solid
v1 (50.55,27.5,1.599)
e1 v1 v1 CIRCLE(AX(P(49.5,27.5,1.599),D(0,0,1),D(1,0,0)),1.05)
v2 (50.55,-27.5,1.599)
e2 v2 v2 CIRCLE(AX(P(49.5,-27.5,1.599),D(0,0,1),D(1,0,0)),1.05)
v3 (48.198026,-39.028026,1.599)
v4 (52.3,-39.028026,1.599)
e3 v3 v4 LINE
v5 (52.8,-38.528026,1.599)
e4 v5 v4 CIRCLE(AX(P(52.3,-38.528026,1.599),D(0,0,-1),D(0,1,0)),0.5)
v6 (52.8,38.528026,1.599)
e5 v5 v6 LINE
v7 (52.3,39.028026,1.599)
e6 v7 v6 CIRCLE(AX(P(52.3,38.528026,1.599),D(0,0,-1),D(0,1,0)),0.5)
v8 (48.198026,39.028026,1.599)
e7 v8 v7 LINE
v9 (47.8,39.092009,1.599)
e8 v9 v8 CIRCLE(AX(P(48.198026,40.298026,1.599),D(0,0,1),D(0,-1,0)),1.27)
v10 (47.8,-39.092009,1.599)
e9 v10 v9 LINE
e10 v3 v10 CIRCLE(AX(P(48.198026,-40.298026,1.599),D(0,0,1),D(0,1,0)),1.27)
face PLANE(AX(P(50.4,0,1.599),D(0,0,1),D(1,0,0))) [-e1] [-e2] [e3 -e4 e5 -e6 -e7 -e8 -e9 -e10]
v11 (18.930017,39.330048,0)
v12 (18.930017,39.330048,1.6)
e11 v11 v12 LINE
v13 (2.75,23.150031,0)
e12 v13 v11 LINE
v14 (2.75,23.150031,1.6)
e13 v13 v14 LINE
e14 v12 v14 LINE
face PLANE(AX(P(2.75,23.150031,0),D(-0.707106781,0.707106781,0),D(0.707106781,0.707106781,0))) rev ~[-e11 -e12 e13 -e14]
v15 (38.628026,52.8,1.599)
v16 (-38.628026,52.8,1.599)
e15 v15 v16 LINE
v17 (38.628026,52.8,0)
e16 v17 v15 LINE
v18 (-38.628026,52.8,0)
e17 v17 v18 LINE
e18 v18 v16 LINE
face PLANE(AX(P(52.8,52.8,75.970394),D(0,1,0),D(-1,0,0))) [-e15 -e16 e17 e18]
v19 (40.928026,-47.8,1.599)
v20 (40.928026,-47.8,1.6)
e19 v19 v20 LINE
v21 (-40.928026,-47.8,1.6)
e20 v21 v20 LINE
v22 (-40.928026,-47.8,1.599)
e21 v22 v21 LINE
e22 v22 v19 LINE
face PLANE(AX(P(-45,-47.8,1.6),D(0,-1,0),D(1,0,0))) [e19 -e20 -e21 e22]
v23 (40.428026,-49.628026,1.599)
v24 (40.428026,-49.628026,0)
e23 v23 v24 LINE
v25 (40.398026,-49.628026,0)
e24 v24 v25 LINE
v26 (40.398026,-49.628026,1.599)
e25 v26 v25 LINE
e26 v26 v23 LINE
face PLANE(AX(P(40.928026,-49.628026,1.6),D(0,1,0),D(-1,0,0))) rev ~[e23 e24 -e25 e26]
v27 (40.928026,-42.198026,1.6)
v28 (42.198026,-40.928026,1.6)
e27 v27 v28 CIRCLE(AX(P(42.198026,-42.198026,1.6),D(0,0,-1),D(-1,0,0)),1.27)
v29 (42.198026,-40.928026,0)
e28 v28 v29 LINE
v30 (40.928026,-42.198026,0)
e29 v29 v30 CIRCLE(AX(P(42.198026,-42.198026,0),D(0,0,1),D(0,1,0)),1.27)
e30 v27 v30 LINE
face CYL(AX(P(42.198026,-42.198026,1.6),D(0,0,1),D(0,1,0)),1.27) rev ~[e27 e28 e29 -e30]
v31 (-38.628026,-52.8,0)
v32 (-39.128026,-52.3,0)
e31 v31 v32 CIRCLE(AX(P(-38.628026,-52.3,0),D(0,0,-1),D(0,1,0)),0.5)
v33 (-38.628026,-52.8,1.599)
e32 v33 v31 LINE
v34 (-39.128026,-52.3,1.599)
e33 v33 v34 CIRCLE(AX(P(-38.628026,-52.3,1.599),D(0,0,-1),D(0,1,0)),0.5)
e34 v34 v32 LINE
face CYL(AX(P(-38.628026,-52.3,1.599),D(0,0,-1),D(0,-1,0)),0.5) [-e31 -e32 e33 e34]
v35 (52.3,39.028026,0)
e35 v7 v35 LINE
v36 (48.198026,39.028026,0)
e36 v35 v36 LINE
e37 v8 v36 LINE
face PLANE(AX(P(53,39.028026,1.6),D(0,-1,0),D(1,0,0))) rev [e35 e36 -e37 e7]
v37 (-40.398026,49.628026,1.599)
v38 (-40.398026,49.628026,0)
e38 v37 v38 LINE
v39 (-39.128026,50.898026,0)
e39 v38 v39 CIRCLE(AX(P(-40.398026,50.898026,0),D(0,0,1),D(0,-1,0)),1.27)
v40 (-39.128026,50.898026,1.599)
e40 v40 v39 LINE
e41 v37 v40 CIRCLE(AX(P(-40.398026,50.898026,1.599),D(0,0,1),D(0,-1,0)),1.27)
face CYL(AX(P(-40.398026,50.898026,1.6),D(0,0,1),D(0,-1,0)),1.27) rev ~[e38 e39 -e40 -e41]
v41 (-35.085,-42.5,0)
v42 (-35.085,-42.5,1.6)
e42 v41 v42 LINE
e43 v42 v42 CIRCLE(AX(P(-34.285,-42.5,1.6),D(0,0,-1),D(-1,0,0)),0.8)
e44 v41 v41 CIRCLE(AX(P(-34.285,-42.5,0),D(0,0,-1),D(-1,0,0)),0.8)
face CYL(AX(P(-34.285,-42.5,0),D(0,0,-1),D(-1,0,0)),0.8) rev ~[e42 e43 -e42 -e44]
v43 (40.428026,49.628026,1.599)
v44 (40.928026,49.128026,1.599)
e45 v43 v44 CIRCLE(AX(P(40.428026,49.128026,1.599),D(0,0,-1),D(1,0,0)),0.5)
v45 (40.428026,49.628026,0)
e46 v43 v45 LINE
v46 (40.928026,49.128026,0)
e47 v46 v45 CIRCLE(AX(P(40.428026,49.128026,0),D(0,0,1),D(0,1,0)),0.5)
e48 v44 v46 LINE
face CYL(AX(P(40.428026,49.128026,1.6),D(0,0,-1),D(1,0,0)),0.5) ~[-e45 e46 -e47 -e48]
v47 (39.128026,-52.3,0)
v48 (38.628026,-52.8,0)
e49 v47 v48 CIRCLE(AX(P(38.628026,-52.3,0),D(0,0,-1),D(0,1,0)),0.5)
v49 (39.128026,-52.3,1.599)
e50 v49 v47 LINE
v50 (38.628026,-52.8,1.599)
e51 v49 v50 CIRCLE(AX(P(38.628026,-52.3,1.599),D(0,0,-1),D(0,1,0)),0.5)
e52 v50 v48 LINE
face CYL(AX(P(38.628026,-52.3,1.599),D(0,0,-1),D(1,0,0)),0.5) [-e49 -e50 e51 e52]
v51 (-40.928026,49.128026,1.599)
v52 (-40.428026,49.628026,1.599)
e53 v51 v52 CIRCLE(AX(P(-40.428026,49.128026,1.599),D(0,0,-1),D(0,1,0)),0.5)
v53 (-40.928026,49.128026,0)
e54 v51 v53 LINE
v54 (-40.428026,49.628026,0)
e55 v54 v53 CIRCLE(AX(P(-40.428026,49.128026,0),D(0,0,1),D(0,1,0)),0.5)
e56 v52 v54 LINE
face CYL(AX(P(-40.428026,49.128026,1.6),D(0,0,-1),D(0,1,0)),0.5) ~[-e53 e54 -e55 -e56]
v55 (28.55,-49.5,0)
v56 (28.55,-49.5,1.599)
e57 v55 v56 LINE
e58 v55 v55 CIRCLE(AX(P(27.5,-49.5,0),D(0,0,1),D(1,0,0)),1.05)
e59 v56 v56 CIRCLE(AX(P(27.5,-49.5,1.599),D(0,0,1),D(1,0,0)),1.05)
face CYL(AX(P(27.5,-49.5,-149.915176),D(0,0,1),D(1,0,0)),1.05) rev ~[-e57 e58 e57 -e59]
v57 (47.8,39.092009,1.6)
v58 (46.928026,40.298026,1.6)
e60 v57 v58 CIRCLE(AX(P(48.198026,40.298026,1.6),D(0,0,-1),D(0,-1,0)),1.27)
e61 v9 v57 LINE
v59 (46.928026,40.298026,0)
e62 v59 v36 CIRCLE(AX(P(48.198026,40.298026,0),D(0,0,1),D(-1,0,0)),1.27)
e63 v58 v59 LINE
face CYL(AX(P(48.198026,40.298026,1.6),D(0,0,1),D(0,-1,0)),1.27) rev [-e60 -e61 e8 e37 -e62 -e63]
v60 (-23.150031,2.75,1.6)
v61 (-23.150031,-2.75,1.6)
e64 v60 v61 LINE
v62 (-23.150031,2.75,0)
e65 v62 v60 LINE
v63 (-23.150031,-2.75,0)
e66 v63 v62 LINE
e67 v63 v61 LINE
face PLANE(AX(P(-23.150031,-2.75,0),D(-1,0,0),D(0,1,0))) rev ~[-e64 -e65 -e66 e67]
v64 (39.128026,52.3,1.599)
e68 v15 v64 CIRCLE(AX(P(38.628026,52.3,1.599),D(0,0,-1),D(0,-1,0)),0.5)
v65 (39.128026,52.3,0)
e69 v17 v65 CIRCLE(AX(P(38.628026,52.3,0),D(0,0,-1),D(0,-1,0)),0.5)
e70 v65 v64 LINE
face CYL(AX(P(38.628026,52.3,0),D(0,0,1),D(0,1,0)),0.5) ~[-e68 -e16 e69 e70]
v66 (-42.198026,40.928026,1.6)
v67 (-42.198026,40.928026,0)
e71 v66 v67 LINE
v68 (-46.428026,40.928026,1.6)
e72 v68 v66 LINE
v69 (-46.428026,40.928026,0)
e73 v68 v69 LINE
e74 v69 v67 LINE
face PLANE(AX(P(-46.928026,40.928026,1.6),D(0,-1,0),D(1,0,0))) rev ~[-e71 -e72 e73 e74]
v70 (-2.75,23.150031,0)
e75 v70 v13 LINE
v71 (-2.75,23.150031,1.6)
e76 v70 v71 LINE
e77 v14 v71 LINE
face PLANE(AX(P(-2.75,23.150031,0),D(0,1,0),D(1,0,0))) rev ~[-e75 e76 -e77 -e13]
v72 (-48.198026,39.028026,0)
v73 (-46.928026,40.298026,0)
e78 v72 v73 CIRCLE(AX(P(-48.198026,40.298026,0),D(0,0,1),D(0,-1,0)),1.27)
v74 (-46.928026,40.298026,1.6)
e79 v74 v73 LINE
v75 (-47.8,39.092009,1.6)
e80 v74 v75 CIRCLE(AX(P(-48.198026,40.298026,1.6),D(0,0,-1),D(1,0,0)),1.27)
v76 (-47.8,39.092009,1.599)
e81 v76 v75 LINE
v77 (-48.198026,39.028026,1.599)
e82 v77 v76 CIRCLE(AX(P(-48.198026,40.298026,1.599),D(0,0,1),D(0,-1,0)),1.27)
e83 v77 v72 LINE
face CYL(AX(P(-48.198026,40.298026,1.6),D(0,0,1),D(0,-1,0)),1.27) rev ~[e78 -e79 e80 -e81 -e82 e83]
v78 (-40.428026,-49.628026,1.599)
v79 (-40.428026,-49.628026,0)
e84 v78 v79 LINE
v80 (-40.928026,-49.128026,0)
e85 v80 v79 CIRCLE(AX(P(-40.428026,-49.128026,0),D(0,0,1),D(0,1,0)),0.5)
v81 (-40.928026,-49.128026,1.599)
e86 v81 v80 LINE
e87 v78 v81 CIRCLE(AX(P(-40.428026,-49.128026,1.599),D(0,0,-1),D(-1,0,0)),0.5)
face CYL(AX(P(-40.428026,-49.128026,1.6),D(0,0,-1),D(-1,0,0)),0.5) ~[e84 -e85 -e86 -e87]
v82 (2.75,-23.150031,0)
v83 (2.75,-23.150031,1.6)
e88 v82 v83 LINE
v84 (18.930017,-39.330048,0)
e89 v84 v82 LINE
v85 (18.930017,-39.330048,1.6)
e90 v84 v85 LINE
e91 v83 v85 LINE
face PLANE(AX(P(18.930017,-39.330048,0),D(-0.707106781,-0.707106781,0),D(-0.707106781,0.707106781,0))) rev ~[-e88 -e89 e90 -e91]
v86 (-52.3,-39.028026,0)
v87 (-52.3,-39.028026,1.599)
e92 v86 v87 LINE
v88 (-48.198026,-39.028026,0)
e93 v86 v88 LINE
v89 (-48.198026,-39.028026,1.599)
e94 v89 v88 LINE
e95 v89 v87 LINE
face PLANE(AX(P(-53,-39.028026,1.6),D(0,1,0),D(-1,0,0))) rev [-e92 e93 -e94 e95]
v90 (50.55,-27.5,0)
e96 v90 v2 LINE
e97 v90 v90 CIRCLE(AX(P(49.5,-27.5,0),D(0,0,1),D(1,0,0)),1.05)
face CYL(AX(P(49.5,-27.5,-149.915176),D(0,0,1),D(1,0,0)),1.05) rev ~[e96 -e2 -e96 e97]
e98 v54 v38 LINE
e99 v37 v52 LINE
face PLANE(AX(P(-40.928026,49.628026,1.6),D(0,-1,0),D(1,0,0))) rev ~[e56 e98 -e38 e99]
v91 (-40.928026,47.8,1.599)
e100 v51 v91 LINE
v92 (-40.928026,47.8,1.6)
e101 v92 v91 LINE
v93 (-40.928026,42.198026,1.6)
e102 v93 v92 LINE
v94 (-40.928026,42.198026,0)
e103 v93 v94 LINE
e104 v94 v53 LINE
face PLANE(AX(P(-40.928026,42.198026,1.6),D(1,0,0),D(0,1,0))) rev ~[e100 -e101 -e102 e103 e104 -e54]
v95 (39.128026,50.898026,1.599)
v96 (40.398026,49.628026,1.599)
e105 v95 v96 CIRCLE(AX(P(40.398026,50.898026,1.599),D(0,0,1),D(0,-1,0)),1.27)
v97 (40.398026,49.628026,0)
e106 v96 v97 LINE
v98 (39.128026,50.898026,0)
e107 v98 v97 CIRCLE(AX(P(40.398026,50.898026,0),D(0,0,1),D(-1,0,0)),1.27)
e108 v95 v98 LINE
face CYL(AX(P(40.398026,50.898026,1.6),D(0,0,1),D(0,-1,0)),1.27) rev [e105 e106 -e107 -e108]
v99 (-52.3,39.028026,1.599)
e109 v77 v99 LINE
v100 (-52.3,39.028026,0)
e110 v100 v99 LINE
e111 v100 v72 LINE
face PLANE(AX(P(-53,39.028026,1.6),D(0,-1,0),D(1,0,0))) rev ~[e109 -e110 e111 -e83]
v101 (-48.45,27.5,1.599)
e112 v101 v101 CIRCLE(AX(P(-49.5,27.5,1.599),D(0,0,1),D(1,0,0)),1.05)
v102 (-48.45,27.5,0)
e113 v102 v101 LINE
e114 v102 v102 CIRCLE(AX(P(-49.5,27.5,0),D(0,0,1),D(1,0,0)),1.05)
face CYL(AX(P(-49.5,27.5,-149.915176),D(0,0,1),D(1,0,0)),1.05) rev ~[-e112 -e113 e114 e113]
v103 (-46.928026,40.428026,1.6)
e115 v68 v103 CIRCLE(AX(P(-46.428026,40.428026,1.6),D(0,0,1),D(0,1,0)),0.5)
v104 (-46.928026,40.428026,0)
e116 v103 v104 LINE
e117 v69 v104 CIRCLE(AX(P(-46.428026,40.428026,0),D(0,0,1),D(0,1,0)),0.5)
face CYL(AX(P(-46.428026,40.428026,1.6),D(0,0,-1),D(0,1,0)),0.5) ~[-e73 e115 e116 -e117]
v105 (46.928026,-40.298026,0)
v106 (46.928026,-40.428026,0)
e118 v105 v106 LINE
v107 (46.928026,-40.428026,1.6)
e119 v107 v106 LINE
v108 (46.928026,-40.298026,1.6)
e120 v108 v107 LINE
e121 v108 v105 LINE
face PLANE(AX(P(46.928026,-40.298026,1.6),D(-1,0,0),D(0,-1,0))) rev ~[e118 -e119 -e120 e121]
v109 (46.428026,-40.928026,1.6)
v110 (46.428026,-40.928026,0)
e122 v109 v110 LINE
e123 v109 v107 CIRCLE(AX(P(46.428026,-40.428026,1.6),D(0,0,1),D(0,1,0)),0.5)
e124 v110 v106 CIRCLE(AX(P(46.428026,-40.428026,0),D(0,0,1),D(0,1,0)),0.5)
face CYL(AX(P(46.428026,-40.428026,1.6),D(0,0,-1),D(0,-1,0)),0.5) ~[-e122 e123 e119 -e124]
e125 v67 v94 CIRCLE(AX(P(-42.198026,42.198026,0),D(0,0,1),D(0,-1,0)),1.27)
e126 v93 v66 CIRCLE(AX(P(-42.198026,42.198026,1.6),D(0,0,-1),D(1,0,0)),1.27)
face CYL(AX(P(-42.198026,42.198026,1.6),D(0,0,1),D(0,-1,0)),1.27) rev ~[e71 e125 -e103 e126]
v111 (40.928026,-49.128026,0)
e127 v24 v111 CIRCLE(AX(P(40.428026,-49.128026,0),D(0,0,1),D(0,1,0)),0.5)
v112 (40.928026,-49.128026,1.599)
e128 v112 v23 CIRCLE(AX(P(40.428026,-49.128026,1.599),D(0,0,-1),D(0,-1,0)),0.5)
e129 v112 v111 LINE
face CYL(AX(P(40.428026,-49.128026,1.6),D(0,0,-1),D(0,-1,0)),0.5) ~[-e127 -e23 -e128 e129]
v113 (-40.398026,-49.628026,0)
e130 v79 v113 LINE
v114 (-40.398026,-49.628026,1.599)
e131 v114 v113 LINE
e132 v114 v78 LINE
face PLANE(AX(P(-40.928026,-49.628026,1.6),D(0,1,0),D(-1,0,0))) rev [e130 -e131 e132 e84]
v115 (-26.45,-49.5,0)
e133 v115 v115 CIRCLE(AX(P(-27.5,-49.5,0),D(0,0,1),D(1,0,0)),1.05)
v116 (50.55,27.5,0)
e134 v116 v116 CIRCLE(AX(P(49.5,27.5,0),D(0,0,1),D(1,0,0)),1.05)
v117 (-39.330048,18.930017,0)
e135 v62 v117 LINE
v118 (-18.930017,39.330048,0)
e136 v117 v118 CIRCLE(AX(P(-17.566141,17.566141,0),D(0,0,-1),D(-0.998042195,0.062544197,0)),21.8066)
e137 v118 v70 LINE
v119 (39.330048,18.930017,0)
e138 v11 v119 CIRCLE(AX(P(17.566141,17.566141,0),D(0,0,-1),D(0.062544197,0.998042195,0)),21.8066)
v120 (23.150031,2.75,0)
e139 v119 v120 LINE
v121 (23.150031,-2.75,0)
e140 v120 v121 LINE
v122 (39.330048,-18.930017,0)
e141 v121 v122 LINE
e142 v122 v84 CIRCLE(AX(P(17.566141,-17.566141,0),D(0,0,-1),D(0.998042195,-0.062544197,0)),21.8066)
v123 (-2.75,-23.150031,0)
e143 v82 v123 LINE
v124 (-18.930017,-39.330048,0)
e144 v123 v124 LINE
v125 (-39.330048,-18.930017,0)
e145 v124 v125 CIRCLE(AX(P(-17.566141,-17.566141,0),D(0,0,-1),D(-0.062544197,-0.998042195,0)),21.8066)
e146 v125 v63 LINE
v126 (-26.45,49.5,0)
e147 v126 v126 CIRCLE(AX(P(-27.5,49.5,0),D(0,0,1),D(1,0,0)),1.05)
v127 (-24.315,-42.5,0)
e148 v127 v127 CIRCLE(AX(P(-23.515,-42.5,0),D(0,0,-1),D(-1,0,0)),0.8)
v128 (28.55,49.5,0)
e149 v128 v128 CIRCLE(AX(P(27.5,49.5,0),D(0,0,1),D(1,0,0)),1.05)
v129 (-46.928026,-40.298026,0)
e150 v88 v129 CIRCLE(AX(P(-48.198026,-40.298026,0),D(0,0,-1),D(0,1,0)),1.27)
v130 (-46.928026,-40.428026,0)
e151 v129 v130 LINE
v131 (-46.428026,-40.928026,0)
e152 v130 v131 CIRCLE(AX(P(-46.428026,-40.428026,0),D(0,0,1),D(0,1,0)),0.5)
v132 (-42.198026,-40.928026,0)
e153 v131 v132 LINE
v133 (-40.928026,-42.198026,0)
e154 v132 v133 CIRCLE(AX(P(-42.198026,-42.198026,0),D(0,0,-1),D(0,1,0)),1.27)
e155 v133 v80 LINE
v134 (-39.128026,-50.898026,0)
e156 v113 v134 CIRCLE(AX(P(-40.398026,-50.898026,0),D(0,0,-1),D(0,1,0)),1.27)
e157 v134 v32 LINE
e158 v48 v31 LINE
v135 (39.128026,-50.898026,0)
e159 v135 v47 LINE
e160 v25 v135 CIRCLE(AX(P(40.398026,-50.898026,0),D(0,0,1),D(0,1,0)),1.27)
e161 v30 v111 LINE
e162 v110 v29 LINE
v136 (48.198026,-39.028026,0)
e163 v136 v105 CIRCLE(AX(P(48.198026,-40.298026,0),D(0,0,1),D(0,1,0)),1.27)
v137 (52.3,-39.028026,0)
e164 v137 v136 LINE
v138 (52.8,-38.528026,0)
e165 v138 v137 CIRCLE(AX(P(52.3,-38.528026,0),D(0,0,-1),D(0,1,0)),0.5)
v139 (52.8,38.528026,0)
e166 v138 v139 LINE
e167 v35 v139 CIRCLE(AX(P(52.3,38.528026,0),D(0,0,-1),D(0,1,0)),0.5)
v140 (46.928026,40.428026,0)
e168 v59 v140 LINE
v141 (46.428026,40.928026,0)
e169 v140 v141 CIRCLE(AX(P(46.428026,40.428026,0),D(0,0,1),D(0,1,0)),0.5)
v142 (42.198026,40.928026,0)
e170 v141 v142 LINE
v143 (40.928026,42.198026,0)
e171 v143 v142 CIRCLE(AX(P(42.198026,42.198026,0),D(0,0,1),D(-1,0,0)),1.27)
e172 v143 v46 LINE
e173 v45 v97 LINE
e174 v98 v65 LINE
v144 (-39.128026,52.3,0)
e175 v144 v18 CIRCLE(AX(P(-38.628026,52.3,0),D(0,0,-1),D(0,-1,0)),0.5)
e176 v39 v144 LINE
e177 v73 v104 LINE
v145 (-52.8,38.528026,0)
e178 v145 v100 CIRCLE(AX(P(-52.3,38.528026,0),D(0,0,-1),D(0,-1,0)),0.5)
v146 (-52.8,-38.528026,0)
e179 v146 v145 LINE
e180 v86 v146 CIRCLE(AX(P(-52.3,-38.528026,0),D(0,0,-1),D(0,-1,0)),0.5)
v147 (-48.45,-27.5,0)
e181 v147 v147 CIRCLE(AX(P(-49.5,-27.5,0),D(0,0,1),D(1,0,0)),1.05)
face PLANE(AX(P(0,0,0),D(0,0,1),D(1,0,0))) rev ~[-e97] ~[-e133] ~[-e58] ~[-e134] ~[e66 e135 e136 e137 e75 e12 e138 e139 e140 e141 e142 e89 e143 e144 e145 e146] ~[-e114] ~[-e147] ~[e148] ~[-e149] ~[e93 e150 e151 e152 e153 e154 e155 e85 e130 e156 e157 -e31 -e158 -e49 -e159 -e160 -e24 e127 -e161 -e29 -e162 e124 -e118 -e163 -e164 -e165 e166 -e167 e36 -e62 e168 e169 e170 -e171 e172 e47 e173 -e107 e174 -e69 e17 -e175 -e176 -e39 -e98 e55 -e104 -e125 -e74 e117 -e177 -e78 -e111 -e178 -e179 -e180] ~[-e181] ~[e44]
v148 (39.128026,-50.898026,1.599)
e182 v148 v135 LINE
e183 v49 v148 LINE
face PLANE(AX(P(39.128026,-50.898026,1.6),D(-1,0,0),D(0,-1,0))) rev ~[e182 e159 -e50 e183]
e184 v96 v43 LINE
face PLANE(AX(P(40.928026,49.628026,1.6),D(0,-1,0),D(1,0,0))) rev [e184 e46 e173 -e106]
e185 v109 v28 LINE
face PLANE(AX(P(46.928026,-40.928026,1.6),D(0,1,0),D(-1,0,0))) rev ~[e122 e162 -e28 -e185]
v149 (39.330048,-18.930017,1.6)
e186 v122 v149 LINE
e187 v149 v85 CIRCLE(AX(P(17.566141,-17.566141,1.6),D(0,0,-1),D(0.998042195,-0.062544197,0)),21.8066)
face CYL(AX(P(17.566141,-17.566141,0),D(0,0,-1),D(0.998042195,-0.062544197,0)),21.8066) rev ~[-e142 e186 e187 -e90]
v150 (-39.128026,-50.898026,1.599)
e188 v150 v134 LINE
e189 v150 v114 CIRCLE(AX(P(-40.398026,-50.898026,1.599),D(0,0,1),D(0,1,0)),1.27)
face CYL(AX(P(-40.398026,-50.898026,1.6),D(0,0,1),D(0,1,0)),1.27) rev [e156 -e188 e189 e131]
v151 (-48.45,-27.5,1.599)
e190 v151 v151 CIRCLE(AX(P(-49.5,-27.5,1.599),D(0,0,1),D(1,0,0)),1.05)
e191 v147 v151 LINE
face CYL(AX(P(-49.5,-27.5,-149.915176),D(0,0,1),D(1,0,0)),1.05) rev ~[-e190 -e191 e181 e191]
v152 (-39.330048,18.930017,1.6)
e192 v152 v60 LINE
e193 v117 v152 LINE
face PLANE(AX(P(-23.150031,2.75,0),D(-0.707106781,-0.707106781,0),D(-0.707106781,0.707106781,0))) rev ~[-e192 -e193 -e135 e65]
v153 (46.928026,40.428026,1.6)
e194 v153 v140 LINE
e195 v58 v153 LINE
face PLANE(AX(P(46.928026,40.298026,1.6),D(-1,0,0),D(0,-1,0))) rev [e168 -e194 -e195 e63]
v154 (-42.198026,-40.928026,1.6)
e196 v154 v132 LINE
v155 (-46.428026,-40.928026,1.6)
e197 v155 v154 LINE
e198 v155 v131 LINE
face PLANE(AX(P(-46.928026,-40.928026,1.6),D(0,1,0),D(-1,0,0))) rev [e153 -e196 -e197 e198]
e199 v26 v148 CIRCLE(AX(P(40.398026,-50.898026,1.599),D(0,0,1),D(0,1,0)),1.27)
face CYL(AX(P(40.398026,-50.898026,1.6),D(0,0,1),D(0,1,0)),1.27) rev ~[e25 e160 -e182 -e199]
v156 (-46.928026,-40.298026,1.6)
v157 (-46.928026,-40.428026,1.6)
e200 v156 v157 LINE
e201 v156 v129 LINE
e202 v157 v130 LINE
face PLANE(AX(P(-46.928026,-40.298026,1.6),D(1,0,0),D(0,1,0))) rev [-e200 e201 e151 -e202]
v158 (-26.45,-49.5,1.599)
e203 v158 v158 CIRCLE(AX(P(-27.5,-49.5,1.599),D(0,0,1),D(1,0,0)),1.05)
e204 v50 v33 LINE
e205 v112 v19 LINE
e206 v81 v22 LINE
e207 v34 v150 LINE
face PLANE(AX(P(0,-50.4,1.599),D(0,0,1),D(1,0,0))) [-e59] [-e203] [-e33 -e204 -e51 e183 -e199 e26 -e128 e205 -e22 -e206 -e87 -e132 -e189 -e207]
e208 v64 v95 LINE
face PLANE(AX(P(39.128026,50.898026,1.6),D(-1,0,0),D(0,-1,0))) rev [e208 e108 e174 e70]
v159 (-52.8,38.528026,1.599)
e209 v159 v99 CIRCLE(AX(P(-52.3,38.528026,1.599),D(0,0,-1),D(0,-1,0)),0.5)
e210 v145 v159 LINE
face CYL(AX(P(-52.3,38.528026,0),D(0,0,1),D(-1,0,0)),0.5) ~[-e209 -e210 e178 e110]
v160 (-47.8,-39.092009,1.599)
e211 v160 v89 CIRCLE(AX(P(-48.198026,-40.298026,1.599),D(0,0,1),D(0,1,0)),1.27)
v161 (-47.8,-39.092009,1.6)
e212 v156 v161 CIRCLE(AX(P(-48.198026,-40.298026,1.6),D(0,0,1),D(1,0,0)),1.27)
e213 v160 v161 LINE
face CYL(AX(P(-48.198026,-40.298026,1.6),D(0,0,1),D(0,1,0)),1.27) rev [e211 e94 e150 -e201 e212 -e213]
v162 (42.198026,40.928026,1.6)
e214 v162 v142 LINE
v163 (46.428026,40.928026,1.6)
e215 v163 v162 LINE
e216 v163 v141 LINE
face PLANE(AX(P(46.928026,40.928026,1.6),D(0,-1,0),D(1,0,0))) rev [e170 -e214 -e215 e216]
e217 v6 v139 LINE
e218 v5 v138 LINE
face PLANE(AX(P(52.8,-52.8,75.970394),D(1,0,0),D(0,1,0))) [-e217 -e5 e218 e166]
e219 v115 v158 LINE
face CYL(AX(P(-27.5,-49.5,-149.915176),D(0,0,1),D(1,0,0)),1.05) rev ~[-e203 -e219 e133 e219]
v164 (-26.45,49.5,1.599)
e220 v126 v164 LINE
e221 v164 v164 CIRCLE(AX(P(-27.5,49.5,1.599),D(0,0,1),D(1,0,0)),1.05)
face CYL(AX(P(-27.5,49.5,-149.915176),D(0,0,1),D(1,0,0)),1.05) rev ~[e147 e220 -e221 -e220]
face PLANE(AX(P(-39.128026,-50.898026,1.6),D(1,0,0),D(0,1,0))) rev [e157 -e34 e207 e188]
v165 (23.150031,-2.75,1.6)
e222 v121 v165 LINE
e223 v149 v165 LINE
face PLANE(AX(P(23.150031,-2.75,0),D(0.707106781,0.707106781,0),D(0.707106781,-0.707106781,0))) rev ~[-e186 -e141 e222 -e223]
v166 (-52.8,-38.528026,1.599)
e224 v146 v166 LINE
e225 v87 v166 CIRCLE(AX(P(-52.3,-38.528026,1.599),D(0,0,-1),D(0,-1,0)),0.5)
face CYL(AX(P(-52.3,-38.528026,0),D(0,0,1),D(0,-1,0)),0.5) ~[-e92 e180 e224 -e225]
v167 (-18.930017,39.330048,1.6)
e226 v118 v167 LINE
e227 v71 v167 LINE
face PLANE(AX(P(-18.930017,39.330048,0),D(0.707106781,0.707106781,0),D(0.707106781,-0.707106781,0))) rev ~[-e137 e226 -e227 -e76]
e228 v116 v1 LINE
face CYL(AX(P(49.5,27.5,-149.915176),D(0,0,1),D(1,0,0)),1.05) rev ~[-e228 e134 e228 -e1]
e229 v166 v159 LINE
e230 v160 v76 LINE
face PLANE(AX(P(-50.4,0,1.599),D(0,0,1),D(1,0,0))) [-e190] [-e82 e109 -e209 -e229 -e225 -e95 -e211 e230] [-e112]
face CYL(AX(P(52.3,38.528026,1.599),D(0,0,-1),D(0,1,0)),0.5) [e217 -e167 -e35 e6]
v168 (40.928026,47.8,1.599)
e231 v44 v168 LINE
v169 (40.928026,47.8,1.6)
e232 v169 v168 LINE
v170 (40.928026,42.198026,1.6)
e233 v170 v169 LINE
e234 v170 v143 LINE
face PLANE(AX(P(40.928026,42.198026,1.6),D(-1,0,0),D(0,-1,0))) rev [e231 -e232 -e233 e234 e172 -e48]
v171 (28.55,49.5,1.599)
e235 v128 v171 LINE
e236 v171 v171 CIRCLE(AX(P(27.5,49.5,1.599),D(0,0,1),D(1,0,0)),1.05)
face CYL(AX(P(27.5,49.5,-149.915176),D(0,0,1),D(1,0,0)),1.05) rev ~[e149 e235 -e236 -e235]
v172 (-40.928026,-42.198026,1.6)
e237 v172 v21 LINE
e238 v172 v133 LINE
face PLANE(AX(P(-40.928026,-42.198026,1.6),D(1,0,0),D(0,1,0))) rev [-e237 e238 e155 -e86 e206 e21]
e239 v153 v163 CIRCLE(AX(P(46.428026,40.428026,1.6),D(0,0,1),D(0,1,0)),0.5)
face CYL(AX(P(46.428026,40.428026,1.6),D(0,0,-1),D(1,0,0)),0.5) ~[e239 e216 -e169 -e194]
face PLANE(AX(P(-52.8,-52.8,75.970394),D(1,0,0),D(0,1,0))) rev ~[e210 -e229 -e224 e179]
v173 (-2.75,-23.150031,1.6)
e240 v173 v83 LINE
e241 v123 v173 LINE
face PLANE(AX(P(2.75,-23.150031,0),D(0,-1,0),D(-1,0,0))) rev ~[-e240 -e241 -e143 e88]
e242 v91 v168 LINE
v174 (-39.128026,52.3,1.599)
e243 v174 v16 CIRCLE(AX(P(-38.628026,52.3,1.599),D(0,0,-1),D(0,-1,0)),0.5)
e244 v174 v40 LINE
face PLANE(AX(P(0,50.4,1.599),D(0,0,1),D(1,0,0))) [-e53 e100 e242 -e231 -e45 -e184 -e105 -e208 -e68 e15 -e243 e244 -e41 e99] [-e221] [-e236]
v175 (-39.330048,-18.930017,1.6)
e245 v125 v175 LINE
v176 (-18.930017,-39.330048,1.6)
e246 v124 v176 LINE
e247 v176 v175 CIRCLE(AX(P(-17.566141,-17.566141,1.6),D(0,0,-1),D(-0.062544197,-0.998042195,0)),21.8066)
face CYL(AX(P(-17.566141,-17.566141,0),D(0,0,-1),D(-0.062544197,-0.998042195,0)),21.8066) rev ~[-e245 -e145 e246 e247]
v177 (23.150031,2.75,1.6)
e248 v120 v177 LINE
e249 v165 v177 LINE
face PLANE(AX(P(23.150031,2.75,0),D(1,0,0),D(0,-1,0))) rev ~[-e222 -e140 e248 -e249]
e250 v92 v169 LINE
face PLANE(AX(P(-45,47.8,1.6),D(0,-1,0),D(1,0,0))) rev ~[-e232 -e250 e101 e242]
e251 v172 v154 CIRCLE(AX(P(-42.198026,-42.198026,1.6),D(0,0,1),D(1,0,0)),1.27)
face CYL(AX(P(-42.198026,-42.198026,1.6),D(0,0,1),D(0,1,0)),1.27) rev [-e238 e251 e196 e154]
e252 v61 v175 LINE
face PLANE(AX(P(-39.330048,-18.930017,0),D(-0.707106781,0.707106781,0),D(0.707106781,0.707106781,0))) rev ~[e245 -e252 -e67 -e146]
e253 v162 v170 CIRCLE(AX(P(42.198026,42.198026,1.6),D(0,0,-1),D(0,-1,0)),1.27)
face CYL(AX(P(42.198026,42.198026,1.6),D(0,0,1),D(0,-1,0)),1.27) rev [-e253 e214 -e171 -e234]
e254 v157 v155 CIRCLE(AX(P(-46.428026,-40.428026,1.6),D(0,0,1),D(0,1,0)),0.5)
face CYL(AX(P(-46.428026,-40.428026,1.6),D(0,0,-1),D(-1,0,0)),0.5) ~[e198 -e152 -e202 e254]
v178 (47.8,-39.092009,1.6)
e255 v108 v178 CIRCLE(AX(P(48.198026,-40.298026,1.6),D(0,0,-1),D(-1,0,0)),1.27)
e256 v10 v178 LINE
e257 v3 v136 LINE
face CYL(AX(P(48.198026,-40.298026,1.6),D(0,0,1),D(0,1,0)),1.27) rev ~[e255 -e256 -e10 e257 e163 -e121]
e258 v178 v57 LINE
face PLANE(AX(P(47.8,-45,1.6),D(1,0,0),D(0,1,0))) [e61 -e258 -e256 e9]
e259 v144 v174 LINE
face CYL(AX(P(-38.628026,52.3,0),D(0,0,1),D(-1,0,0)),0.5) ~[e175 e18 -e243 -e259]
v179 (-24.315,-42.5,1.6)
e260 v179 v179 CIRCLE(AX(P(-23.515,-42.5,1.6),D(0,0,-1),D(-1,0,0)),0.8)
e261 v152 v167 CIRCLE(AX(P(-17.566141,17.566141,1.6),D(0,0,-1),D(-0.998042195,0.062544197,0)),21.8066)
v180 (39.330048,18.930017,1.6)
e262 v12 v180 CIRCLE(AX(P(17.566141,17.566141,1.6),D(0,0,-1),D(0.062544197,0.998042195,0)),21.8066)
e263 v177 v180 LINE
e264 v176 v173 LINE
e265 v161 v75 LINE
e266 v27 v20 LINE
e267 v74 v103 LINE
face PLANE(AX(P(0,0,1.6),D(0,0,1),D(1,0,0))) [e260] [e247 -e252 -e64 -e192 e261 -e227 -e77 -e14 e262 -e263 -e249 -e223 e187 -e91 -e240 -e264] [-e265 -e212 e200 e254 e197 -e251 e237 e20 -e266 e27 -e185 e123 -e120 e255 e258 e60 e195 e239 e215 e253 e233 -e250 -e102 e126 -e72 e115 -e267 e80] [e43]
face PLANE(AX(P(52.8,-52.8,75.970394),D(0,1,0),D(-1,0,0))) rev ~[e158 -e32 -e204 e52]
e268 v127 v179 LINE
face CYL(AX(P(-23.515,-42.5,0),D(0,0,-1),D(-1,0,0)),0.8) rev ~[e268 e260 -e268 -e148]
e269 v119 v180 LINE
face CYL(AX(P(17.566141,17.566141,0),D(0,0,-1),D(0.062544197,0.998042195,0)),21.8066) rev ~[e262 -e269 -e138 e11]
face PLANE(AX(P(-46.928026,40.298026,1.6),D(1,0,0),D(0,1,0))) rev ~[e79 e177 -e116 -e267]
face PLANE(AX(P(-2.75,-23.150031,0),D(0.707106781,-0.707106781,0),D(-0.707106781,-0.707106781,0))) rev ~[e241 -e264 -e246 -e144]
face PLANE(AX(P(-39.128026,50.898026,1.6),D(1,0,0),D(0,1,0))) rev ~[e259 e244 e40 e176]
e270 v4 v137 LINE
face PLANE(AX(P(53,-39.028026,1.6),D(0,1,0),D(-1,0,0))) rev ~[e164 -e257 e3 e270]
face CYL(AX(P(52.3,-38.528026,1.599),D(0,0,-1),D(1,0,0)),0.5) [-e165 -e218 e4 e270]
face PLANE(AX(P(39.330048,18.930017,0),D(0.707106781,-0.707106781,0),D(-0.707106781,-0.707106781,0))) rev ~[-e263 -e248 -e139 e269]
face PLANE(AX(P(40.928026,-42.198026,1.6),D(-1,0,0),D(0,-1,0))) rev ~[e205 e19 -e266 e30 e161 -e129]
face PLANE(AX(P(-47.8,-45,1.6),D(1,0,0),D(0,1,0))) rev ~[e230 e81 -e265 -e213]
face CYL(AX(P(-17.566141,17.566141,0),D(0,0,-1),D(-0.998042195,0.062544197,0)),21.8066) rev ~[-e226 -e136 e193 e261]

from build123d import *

# Parameters (mm, degrees)
SKETCH1_W                    = 106
SKETCH1_H                    = 106
MAINOUTLINE_DEPTH            = 1.6
SKETCH4_W                    = 11.7
SKETCH4_H                    = 11.7
RAILCUTOUTS_DEPTH            = 75.970394157
SKETCH13_W                   = 5.7
SKETCH13_H                   = 1.9
SKETCH13_W_2                 = 1.8
SKETCH13_H_2                 = 3
FILLETCUTOUTS_DEPTH          = 75.970394157
SMOOTHCORNER_DEPTH           = 10
MIRROR2_COPY_1_SKETCH_W      = 11.7
MIRROR2_COPY_1_SKETCH_H      = 11.7
MIRROR2_COPY_1_DEPTH         = 75.970394157
MIRROR2_COPY_2_SKETCH_W      = 5.7
MIRROR2_COPY_2_SKETCH_H      = 1.9
MIRROR2_COPY_2_SKETCH_W_2    = 1.8
MIRROR2_COPY_2_SKETCH_H_2    = 3
MIRROR2_COPY_2_DEPTH         = 75.970394157
MIRROR2_COPY_3_DEPTH         = 10
MIRROR2_COPY_4_SKETCH_W      = 11.7
MIRROR2_COPY_4_SKETCH_H      = 11.7
MIRROR2_COPY_4_DEPTH         = 75.970394157
MIRROR2_COPY_5_SKETCH_W      = 5.7
MIRROR2_COPY_5_SKETCH_H      = 1.9
MIRROR2_COPY_5_SKETCH_W_2    = 1.8
MIRROR2_COPY_5_SKETCH_H_2    = 3
MIRROR2_COPY_5_DEPTH         = 75.970394157
FILLET10_R                   = 0.5
M2_CLEARANCE_HOLE1_D         = 2.1
SKETCH16_W                   = 90
SKETCH16_H                   = 5.2
SKETCH16_W_2                 = 5.2
SKETCH16_H_2                 = 90
CUT_EXTRUDE6_DEPTH           = 0.001
CUT_EXTRUDE8_DEPTH           = 10
SKETCH29_R                   = 0.8
CONNECTOR_LOCATION_DEPTH     = 10
CUT_EXTRUDE_THIN1_DEPTH      = 75.970394157
CUT_EXTRUDE_THIN1_DEPTH_BACK = 75.970394157
SKETCH31_W                   = 125.6
SKETCH31_H                   = 125.6
SKETCH31_W_2                 = 105.6
SKETCH31_H_2                 = 105.6
FILLET12_R                   = 0.5


with BuildPart() as part:
    # Sketch1 → mainOutline (new body)
    with BuildSketch(Plane.XY):
        Rectangle(SKETCH1_W, SKETCH1_H)
    extrude(amount=MAINOUTLINE_DEPTH)

    # Sketch4 → railCutouts (cut, through all)
    with BuildSketch(Plane(origin=(0, 0, 0), x_dir=(-1, 0, 0), z_dir=(0, 0, -1))):
        with Locations((47.15, 47.15)):
            Rectangle(SKETCH4_W, SKETCH4_H)
    railcutouts = extrude(amount=-RAILCUTOUTS_DEPTH, mode=Mode.SUBTRACT)

    # Sketch13 → filletCutouts (cut, symmetric)
    with BuildSketch(Plane(origin=(0, 0, 0), x_dir=(-1, 0, 0), z_dir=(0, 0, -1))):
        with Locations((50.15, 40.35)):
            Rectangle(SKETCH13_W, SKETCH13_H)
        with Locations((40.4, 51.5)):
            Rectangle(SKETCH13_W_2, SKETCH13_H_2)
    filletcutouts = extrude(amount=FILLETCUTOUTS_DEPTH, both=True, mode=Mode.SUBTRACT)

    # Sketch27 → smoothCorner (cut)
    with BuildSketch(Plane.XY.offset(1.6)):
        with BuildLine():
            Line((-40.928025612, 42.198025612), (-40.928025612, 49.628025612))
            Line((-40.928025612, 49.628025612), (-40.398025612, 49.628025612))
            ThreePointArc((-40.398025612, 49.628025612), (-39.5, 50), (-39.128025612, 50.898025612))
            Line((-39.128025612, 50.898025612), (-39.128025612, 53))
            Line((-39.128025612, 53), (-53, 53))
            Line((-53, 53), (-53, 39.028025612))
            Line((-53, 39.028025612), (-48.198025612, 39.028025612))
            ThreePointArc((-48.198025612, 39.028025612), (-47.3, 39.4), (-46.928025612, 40.298025612))
            Line((-46.928025612, 40.298025612), (-46.928025612, 40.928025612))
            Line((-46.928025612, 40.928025612), (-42.198025612, 40.928025612))
            ThreePointArc((-42.198025612, 40.928025612), (-41.3, 41.3), (-40.928025612, 42.198025612))
        make_face()
    smoothcorner = extrude(amount=-SMOOTHCORNER_DEPTH, mode=Mode.SUBTRACT)

    # Mirror1: railCutouts, filletCutouts, smoothCorner across plane
    add(railcutouts.mirror(Plane(origin=(0, 0, 0), x_dir=(0, 0, 1), z_dir=(1, 0, 0))), mode=Mode.SUBTRACT)
    add(filletcutouts.mirror(Plane(origin=(0, 0, 0), x_dir=(0, 0, 1), z_dir=(1, 0, 0))), mode=Mode.SUBTRACT)
    add(smoothcorner.mirror(Plane(origin=(0, 0, 0), x_dir=(0, 0, 1), z_dir=(1, 0, 0))), mode=Mode.SUBTRACT)

    # Mirror2: smoothCorner across plane
    add(smoothcorner.mirror(Plane.ZX), mode=Mode.SUBTRACT)

    # Mirror2 copy 1 sketch → Mirror2 copy 1 (cut, through all)
    with BuildSketch(Plane(origin=(0, 0, 0), x_dir=(1, 0, 0), z_dir=(0, 0, -1))):
        with Locations((47.15, 47.15)):
            Rectangle(MIRROR2_COPY_1_SKETCH_W, MIRROR2_COPY_1_SKETCH_H)
    extrude(amount=-MIRROR2_COPY_1_DEPTH, mode=Mode.SUBTRACT)

    # Mirror2 copy 2 sketch → Mirror2 copy 2 (cut, symmetric)
    with BuildSketch(Plane(origin=(0, 0, 0), x_dir=(1, 0, 0), z_dir=(0, 0, -1))):
        with Locations((50.15, 40.35)):
            Rectangle(MIRROR2_COPY_2_SKETCH_W, MIRROR2_COPY_2_SKETCH_H)
        with Locations((40.4, 51.5)):
            Rectangle(MIRROR2_COPY_2_SKETCH_W_2, MIRROR2_COPY_2_SKETCH_H_2)
    extrude(amount=MIRROR2_COPY_2_DEPTH, both=True, mode=Mode.SUBTRACT)

    # Mirror2 copy 3 sketch → Mirror2 copy 3 (cut)
    with BuildSketch(Plane(origin=(0, 0, 1.6), x_dir=(-1, 0, 0), z_dir=(0, 0, 1))):
        with BuildLine():
            Line((-40.928025612, 42.198025612), (-40.928025612, 49.628025612))
            Line((-40.928025612, 49.628025612), (-40.398025612, 49.628025612))
            ThreePointArc((-40.398025612, 49.628025612), (-39.5, 50), (-39.128025612, 50.898025612))
            Line((-39.128025612, 50.898025612), (-39.128025612, 53))
            Line((-39.128025612, 53), (-53, 53))
            Line((-53, 53), (-53, 39.028025612))
            Line((-53, 39.028025612), (-48.198025612, 39.028025612))
            ThreePointArc((-48.198025612, 39.028025612), (-47.3, 39.4), (-46.928025612, 40.298025612))
            Line((-46.928025612, 40.298025612), (-46.928025612, 40.928025612))
            Line((-46.928025612, 40.928025612), (-42.198025612, 40.928025612))
            ThreePointArc((-42.198025612, 40.928025612), (-41.3, 41.3), (-40.928025612, 42.198025612))
        make_face()
    extrude(amount=-MIRROR2_COPY_3_DEPTH, mode=Mode.SUBTRACT)

    # Mirror2 copy 4 sketch → Mirror2 copy 4 (cut, through all)
    with BuildSketch(Plane(origin=(0, 0, 0), x_dir=(-1, 0, 0), z_dir=(0, 0, -1))):
        with Locations((47.15, -47.15)):
            Rectangle(MIRROR2_COPY_4_SKETCH_W, MIRROR2_COPY_4_SKETCH_H)
    extrude(amount=-MIRROR2_COPY_4_DEPTH, mode=Mode.SUBTRACT)

    # Mirror2 copy 5 sketch → Mirror2 copy 5 (cut, symmetric)
    with BuildSketch(Plane(origin=(0, 0, 0), x_dir=(-1, 0, 0), z_dir=(0, 0, -1))):
        with Locations((50.15, -40.35)):
            Rectangle(MIRROR2_COPY_5_SKETCH_W, MIRROR2_COPY_5_SKETCH_H)
        with Locations((40.4, -51.5)):
            Rectangle(MIRROR2_COPY_5_SKETCH_W_2, MIRROR2_COPY_5_SKETCH_H_2)
    extrude(amount=MIRROR2_COPY_5_DEPTH, both=True, mode=Mode.SUBTRACT)

    # Fillet10
    fillet10_edges = [part.edges().sort_by_distance(p)[0] for p in [
        (40.928025612, 49.628025612, 0.8),
        (46.928025612, 40.928025612, 0.8),
        (46.928025612, -40.928025612, 0.8),
        (40.928025612, -49.628025612, 0.8),
        (-40.928025612, -49.628025612, 0.8),
        (-46.928025612, -40.928025612, 0.8),
        (-46.928025612, 40.928025612, 0.8),
        (-40.928025612, 49.628025612, 0.8),
    ]]
    fillet(fillet10_edges, radius=FILLET10_R)

    # M2 Clearance Hole1 (through all)
    with Locations(Plane(origin=(0, 0, 0), x_dir=(-1, 0, 0), z_dir=(0, 0, -1))):
        with Locations((49.5, -27.5), (27.5, -49.5), (-49.5, -27.5), (-27.5, -49.5), (-27.5, 49.5), (-49.5, 27.5), (27.5, 49.5), (49.5, 27.5)):
            Hole(M2_CLEARANCE_HOLE1_D / 2)

    # Sketch16 → Cut-Extrude6 (cut)
    with BuildSketch(Plane.XY.offset(1.6)):
        with Locations((0, -50.4)):
            Rectangle(SKETCH16_W, SKETCH16_H)
        with Locations((0, 50.4)):
            Rectangle(SKETCH16_W, SKETCH16_H)
        with Locations((-50.4, 0)):
            Rectangle(SKETCH16_W_2, SKETCH16_H_2)
        with Locations((50.4, 0)):
            Rectangle(SKETCH16_W_2, SKETCH16_H_2)
    extrude(amount=-CUT_EXTRUDE6_DEPTH, mode=Mode.SUBTRACT)

    # Sketch30 → Cut-Extrude8 (cut)
    with BuildSketch(Plane(origin=(0, 0, 0), x_dir=(-1, 0, 0), z_dir=(0, 0, -1))):
        with BuildLine():
            Line((-18.930017367, -39.330048004), (-2.75, -23.150030637))
            Line((-2.75, -23.150030637), (2.75, -23.150030637))
            Line((2.75, -23.150030637), (18.930017367, -39.330048004))
            ThreePointArc((18.930017367, -39.330048004), (32.985735805, -32.985735805), (39.330048004, -18.930017367))
            Line((39.330048004, -18.930017367), (23.150030637, -2.75))
            Line((23.150030637, -2.75), (23.150030637, 2.75))
            Line((23.150030637, 2.75), (39.330048004, 18.930017367))
            ThreePointArc((39.330048004, 18.930017367), (32.985735805, 32.985735805), (18.930017367, 39.330048004))
            Line((18.930017367, 39.330048004), (2.75, 23.150030637))
            Line((2.75, 23.150030637), (-2.75, 23.150030637))
            Line((-2.75, 23.150030637), (-18.930017367, 39.330048004))
            ThreePointArc((-18.930017367, 39.330048004), (-32.985735805, 32.985735805), (-39.330048004, 18.930017367))
            Line((-39.330048004, 18.930017367), (-23.150030637, 2.75))
            Line((-23.150030637, 2.75), (-23.150030637, -2.75))
            Line((-23.150030637, -2.75), (-39.330048004, -18.930017367))
            ThreePointArc((-39.330048004, -18.930017367), (-32.985735805, -32.985735805), (-18.930017367, -39.330048004))
        make_face()
    extrude(amount=-CUT_EXTRUDE8_DEPTH, mode=Mode.SUBTRACT)

    # Sketch29 → Connector Location (cut)
    with BuildSketch(Plane(origin=(0, 0, 0), x_dir=(-1, 0, 0), z_dir=(0, 0, -1))):
        with Locations((34.285, -42.5)):
            Circle(SKETCH29_R)
        with Locations((23.515, -42.5)):
            Circle(SKETCH29_R)
    extrude(amount=-CONNECTOR_LOCATION_DEPTH, mode=Mode.SUBTRACT)

    # Sketch31 → Cut-Extrude-Thin1 (cut, two sides: drawn at the far end of the back side and taken through both)
    with BuildSketch(Plane(origin=(0, 0, 0), x_dir=(-1, 0, 0), z_dir=(0, 0, -1)).offset(-CUT_EXTRUDE_THIN1_DEPTH_BACK)):
        Rectangle(SKETCH31_W, SKETCH31_H)
        Rectangle(SKETCH31_W_2, SKETCH31_H_2, mode=Mode.SUBTRACT)
    extrude(amount=CUT_EXTRUDE_THIN1_DEPTH + CUT_EXTRUDE_THIN1_DEPTH_BACK, mode=Mode.SUBTRACT)

    # Fillet12
    fillet12_edges = [part.edges().sort_by_distance(p)[0] for p in [
        (-52.8, 39.028025612, 0.7995),
        (39.128025612, -52.8, 0.7995),
        (52.8, -39.028025612, 0.7995),
        (-39.128025612, 52.8, 0.7995),
        (-52.8, -39.028025612, 0.7995),
        (-39.128025612, -52.8, 0.7995),
        (52.8, 39.028025612, 0.7995),
        (39.128025612, 52.8, 0.7995),
    ]]
    fillet(fillet12_edges, radius=FILLET12_R)


solid = part.part
